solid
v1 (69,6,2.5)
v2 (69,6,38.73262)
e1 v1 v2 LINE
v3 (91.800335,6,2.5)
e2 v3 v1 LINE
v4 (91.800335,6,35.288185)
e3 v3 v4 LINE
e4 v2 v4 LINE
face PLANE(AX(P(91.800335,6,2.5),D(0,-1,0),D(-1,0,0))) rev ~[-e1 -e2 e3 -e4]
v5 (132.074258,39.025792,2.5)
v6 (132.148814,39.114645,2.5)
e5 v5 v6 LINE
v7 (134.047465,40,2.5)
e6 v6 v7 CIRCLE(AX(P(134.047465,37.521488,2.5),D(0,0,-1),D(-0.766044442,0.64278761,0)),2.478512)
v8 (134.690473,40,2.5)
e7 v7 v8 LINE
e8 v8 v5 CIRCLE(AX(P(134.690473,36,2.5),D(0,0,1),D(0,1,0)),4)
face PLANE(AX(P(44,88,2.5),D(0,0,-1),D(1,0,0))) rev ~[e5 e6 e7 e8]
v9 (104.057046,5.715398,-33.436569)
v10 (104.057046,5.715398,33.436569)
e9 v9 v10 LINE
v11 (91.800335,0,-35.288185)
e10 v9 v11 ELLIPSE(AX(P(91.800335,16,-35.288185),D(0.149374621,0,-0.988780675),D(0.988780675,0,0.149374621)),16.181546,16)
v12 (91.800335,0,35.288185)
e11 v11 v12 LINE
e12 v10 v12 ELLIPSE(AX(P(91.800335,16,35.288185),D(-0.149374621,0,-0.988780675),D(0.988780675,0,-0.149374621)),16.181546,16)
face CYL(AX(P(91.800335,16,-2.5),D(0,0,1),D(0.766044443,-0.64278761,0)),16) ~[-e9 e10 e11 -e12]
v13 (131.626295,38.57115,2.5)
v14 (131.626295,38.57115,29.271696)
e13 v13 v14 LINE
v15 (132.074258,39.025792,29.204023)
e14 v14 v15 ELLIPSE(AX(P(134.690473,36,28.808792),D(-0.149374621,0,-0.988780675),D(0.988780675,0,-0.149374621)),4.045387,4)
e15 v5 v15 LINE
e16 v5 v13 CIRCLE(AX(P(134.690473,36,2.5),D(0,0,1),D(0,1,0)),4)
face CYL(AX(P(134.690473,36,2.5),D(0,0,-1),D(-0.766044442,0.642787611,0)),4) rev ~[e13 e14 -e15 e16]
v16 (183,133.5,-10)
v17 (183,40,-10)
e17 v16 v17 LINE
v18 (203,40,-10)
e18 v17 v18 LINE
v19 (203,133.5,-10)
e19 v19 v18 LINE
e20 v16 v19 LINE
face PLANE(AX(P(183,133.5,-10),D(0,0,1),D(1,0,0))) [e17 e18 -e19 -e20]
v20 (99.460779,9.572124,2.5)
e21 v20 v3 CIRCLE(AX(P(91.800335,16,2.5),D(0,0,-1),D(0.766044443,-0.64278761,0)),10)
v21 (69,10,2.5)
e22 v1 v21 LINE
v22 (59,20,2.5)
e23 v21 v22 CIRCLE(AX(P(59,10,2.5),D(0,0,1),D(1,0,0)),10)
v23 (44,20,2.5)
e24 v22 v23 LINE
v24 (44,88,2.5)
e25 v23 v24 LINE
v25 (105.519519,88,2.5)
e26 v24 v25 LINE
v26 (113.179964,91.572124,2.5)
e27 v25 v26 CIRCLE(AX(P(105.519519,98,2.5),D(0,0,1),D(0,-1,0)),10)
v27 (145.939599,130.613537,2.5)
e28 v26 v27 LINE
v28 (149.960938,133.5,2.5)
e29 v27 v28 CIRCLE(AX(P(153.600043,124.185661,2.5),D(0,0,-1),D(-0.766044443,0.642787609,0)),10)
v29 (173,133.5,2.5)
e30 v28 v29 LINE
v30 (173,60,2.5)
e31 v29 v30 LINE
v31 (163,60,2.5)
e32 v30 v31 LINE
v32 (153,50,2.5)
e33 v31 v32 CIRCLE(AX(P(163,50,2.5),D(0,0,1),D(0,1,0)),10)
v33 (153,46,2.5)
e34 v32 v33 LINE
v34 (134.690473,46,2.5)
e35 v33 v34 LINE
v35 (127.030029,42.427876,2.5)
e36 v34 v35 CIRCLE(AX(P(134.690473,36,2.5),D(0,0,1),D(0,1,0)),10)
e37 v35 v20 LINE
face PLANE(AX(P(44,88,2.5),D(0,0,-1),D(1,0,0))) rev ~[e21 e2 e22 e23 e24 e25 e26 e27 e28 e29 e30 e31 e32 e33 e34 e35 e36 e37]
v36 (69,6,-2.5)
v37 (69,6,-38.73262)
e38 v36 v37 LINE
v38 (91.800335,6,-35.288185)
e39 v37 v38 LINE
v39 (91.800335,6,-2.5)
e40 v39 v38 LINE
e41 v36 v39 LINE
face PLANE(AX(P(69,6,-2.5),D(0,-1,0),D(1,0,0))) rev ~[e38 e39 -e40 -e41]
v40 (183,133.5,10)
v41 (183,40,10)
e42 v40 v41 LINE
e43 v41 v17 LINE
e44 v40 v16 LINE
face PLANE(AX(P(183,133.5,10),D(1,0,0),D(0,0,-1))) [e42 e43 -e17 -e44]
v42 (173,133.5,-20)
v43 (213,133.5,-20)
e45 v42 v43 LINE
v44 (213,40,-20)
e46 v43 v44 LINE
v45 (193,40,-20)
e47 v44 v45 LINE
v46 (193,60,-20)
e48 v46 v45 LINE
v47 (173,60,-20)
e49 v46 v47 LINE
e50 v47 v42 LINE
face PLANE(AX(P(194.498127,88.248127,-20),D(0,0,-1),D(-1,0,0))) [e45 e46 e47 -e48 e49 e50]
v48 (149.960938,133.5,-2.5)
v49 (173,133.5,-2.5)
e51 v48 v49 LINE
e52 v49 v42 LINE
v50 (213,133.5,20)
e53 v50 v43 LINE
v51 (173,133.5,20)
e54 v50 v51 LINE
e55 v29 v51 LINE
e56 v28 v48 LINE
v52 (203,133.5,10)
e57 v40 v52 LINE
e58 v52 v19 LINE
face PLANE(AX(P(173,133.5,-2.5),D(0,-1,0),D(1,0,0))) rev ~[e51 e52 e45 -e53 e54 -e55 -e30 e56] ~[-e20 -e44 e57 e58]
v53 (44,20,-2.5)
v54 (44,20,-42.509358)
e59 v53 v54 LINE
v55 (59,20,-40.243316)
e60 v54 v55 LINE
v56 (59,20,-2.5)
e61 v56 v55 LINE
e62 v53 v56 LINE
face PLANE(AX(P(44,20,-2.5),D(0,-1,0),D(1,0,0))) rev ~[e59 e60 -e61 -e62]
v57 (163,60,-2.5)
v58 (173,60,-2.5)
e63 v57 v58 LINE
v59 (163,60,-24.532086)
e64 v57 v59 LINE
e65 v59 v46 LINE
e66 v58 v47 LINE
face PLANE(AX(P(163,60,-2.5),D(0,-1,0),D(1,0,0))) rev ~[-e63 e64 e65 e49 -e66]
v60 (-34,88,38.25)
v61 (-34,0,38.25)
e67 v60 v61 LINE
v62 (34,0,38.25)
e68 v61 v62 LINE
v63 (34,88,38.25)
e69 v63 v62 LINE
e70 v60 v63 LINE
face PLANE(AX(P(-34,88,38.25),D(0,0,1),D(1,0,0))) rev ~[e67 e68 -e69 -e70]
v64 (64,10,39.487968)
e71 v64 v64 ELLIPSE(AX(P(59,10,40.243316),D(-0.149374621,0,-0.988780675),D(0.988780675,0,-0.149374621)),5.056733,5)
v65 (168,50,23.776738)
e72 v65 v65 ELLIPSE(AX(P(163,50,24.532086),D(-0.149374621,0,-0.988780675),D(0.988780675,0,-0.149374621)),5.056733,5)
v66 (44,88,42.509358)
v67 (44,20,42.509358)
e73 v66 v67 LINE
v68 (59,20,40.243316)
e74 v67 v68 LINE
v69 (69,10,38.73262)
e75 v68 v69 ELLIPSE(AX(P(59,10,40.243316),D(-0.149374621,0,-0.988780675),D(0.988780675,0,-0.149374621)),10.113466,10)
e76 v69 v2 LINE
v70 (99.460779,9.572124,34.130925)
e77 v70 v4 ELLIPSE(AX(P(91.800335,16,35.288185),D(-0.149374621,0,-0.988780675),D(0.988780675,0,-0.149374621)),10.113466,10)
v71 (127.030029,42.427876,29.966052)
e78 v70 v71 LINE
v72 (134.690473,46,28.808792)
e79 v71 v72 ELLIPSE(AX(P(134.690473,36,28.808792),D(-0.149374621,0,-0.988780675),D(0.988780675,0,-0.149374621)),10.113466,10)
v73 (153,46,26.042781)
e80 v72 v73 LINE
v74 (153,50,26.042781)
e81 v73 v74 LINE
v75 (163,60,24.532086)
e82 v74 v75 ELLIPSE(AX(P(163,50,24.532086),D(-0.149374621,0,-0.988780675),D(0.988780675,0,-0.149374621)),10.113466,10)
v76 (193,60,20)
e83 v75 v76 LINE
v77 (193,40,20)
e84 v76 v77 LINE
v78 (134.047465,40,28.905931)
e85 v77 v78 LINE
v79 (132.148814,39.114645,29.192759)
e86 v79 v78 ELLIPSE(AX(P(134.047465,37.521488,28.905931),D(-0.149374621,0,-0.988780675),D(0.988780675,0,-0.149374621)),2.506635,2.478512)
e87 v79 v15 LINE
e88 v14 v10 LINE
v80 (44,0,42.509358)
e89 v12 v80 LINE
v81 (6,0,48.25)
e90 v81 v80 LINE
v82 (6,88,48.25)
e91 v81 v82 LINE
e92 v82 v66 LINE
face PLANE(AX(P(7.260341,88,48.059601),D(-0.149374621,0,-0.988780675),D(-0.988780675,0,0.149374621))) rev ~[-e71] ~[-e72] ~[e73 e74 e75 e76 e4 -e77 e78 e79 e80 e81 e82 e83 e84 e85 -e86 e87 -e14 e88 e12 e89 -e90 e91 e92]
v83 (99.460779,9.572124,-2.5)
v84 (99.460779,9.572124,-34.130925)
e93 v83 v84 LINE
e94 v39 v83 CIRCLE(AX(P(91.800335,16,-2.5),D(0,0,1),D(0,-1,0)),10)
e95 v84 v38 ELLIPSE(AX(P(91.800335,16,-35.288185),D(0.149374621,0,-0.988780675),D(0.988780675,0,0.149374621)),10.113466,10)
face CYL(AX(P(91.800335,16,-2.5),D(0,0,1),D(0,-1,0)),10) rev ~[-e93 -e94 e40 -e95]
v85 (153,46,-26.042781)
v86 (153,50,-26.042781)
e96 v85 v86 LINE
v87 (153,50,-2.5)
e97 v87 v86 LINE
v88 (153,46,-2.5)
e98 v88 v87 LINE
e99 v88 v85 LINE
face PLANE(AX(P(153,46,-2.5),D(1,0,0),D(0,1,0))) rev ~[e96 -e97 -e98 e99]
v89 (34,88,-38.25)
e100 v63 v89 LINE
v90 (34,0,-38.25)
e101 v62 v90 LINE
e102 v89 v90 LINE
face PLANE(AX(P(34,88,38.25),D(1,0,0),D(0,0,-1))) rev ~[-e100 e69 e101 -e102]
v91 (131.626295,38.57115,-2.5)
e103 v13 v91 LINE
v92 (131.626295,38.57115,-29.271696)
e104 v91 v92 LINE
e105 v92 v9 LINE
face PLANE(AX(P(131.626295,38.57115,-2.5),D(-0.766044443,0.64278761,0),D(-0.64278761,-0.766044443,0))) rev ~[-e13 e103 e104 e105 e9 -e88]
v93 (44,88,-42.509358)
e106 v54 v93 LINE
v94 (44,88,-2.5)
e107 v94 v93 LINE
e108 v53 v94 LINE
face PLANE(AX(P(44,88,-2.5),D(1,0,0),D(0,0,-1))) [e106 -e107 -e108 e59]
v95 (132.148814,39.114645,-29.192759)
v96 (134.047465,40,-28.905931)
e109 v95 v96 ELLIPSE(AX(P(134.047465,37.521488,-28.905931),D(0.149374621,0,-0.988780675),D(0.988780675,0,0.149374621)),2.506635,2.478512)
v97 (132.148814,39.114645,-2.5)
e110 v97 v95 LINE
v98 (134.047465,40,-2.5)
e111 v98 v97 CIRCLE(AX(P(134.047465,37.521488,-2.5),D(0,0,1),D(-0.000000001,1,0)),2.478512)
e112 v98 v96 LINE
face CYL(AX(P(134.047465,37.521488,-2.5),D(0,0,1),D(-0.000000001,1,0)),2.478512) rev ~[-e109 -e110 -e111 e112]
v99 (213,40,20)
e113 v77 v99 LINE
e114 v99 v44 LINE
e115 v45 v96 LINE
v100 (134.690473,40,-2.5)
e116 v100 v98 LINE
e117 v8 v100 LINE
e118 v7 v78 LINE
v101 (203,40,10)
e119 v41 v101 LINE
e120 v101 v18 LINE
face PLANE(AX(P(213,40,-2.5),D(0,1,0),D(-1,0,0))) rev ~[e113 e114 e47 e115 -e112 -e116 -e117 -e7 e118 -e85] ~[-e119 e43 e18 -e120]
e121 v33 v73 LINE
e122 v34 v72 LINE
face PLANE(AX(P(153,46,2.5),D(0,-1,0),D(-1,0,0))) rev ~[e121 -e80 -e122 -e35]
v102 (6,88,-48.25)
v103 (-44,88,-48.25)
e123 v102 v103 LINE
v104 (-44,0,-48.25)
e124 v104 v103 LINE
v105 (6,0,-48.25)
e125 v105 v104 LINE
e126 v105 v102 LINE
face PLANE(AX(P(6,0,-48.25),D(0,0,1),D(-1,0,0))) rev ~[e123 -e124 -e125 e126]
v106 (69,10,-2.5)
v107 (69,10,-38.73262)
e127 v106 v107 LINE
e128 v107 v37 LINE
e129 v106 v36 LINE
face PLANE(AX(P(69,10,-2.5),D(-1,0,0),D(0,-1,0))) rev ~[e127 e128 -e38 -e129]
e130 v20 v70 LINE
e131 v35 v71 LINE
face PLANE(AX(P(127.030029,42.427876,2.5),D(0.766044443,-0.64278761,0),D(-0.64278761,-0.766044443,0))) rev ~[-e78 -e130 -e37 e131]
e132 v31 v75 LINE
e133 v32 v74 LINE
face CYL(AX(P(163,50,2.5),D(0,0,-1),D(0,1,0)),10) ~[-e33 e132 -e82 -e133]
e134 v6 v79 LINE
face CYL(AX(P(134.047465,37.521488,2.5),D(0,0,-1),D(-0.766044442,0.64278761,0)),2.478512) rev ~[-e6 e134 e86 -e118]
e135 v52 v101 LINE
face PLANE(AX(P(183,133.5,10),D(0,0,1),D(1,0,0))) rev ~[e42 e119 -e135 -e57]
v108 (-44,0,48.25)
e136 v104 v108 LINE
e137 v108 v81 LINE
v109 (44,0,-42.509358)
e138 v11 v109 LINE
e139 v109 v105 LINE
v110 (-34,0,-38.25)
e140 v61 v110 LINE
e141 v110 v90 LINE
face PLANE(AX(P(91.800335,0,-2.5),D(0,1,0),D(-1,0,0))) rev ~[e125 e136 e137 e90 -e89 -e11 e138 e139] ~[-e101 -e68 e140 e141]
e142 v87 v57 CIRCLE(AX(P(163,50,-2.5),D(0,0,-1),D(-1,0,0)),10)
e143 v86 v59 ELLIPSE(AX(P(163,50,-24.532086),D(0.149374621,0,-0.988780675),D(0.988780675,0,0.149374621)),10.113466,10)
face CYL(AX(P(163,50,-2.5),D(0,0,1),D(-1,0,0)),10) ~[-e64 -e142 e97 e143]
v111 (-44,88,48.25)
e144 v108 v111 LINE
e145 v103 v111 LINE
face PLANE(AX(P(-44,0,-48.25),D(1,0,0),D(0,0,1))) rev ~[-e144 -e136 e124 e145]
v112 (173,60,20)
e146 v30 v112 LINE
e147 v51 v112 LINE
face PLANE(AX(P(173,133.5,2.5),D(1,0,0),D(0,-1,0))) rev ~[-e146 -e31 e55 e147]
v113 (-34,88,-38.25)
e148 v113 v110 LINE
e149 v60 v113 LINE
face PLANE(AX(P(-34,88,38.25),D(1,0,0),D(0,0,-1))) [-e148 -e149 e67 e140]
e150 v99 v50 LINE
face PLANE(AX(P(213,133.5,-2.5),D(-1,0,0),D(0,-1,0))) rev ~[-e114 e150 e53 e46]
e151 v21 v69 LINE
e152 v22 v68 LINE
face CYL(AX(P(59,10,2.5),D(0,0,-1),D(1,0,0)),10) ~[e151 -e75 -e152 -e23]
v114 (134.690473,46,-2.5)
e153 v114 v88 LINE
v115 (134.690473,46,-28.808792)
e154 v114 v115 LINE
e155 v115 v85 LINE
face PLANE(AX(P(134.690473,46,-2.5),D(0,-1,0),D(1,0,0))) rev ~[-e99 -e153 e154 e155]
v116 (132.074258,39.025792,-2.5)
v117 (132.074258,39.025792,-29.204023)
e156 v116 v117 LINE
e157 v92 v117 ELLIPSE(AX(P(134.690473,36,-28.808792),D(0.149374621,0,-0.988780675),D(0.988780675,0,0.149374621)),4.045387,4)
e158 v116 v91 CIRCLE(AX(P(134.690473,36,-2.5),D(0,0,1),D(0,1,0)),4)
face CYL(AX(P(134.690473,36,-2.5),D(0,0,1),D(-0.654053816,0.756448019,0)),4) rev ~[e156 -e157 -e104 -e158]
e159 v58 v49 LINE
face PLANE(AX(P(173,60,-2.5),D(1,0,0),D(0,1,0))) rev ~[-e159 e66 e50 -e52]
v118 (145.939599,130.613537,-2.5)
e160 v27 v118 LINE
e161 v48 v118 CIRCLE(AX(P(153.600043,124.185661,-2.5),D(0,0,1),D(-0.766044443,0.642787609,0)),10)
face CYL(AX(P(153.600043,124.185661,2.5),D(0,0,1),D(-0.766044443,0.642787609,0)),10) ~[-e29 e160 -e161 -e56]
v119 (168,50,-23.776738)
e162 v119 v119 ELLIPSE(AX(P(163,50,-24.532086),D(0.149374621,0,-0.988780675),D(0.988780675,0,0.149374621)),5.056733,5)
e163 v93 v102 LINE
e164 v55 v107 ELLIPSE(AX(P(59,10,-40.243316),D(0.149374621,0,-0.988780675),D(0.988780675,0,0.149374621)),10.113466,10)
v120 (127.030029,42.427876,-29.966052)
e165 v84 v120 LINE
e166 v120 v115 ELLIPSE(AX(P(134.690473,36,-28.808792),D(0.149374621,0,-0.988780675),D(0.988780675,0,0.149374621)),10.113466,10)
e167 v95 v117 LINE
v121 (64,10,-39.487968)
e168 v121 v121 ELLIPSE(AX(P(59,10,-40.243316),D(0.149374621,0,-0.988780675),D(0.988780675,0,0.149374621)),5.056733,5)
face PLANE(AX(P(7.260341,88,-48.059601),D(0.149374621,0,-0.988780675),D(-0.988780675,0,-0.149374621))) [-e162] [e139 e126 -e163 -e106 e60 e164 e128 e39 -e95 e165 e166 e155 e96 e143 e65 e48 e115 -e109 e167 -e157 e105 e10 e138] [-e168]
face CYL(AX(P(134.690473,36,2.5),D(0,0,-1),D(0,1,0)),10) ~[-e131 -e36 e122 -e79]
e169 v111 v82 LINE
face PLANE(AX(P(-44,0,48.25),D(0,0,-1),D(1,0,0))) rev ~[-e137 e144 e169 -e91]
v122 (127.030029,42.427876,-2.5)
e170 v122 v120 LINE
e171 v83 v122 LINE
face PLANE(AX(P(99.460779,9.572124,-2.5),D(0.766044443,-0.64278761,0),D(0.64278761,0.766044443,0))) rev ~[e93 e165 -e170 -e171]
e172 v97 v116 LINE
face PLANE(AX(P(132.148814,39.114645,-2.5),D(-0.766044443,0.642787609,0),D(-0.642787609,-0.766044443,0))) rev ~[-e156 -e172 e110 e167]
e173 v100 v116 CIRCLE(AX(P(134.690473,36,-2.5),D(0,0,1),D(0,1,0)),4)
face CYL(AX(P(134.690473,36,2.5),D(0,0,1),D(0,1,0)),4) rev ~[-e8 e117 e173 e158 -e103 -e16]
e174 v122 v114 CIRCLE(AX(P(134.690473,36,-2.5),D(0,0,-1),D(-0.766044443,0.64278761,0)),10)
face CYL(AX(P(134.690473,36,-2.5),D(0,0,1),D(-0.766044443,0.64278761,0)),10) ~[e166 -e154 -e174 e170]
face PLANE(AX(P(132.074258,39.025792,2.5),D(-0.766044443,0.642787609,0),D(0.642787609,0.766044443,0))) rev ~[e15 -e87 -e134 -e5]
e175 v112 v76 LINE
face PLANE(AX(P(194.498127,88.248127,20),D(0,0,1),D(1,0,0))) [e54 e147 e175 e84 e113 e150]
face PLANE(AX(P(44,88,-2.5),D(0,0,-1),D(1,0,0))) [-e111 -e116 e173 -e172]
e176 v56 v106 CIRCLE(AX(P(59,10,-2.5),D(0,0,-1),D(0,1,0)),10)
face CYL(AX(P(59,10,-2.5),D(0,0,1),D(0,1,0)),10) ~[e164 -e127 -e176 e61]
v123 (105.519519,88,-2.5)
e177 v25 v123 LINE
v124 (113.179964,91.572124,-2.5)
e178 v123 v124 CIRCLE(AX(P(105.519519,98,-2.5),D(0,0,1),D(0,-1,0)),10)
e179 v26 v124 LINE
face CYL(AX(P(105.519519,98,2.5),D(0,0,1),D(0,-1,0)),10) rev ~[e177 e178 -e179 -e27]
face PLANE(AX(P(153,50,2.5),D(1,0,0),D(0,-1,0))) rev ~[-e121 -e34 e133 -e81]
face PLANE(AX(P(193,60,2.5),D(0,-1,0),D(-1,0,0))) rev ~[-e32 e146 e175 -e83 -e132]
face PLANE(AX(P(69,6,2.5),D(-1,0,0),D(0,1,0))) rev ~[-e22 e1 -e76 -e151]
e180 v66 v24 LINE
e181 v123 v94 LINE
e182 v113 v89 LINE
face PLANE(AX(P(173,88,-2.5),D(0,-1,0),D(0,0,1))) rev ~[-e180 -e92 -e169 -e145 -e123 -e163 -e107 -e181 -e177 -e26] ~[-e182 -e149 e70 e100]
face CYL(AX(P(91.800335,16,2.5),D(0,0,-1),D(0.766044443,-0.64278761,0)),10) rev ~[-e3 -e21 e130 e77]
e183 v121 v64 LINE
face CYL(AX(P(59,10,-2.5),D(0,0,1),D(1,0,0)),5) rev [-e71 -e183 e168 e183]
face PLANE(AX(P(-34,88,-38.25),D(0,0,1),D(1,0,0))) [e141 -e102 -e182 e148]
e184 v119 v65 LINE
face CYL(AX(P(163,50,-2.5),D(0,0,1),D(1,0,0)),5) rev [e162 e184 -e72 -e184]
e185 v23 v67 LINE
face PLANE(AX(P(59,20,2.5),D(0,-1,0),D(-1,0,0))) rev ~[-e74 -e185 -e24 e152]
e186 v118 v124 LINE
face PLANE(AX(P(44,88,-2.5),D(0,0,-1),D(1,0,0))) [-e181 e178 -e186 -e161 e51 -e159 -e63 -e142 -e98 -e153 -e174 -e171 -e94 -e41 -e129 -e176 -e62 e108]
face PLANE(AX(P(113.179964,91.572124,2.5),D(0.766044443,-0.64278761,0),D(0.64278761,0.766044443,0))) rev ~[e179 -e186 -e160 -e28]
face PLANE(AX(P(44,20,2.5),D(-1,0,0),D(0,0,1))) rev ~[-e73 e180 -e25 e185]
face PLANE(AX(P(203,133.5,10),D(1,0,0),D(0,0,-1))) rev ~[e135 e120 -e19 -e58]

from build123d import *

# Parameters (mm, degrees)
BOSS_EXTRU_3_DEPTH       = 88
ESQUISSE4_W              = 68
ESQUISSE4_H              = 76.5
ENL_V_MAT_EXTRU_1_DEPTH  = 236.459258684
ENL_V_MAT_EXTRU_2_DEPTH  = 68
ENL_V_MAT_EXTRU_5_REACH  = 245.615
ESQUISSE6_W              = 150.690647389
ESQUISSE6_H              = 20
BOSS_EXTRU_5_DEPTH       = 20
ESQUISSE14_W             = 40
ESQUISSE14_H             = 40
ENL_V_MAT_EXTRU_6_DEPTH  = 236.459258684
BOSS_EXTRU_8_DEPTH       = 40
ENL_V_MAT_EXTRU_7_DEPTH  = 236.984242059
ESQUISSE27_W             = 169
ESQUISSE27_H             = 5
BOSS_EXTRU_9_DEPTH       = 45.5
BOSS_EXTRU_10_REACH      = 258.45
ESQUISSE28_R             = 5
ENL_V_MAT_EXTRU_9_DEPTH  = 45.5
BOSS_EXTRU_12_DEPTH      = 17.5
ENL_V_MAT_EXTRU_10_REACH = 248.129
BOSS_EXTRU_13_REACH      = 258.45
ESQUISSE34_R             = 5
BOSS_EXTRU_14_DEPTH      = 17.5
ESQUISSE36_W             = 20
ESQUISSE36_H             = 20
ENL_V_MAT_EXTRU_11_DEPTH = 256.967405152
ESQUISSE37_R             = 5
ENL_V_MAT_EXTRU_12_DEPTH = 10
ESQUISSE38_R             = 5
ENL_V_MAT_EXTRU_13_DEPTH = 10


with BuildPart() as part:
    # Esquisse1 → Boss.-Extru.3 (new body)
    with BuildSketch(Plane(origin=(0, 0, 0), x_dir=(1, 0, 0), z_dir=(0, 1, 0))):
        Polygon((193, 20), (6, 48.25), (-44, 48.25), (-44, -48.25), (6, -48.25), (193, -20), (213, -20), (213, 20), align=None)
    extrude(amount=BOSS_EXTRU_3_DEPTH)

    # Esquisse4 → Enlèv. mat.-Extru.1 (cut, through all)
    with BuildSketch(Plane(origin=(0, 88, 0), x_dir=(1, 0, 0), z_dir=(0, 1, 0))):
        Rectangle(ESQUISSE4_W, ESQUISSE4_H)
    extrude(amount=-ENL_V_MAT_EXTRU_1_DEPTH, mode=Mode.SUBTRACT)

    # Esquisse5 → Enlèv. mat.-Extru.2 (cut)
    with BuildSketch(Plane(origin=(0, 88, 0), x_dir=(1, 0, 0), z_dir=(0, 1, 0))):
        Polygon((193, 20), (173, 20), (173, 2.5), (44, 2.5), (44, 42.509358289), align=None)
        Polygon((173, -20), (193, -20), (44, -42.509358289), (44, -2.5), (173, -2.5), align=None)
    extrude(amount=-ENL_V_MAT_EXTRU_2_DEPTH, mode=Mode.SUBTRACT)

    # Enlèv. mat.-Extru.5: up to this plane
    enl_v_mat_extru_5_end = Plane(origin=(173, 20, 2.5), z_dir=(0, 0, -1))
    # Esquisse6 → Enlèv. mat.-Extru.5 (cut, up to the surface)
    with BuildSketch(Plane(origin=(7.260340781, 0, 48.059600925), x_dir=(0.9887806747234926, 0, -0.14937462064673088), z_dir=(0.14937462064673088, 0, 0.9887806747234927)), mode=Mode.PRIVATE) as enl_v_mat_extru_5_sk1:
        with Locations((112.501854115, 10)):
            Rectangle(ESQUISSE6_W, ESQUISSE6_H)
    enl_v_mat_extru_5_tool1 = split(extrude(enl_v_mat_extru_5_sk1.sketch, amount=-ENL_V_MAT_EXTRU_5_REACH, mode=Mode.PRIVATE), bisect_by=enl_v_mat_extru_5_end, keep=Keep.BOTH, mode=Mode.PRIVATE)
    add(enl_v_mat_extru_5_tool1.solids().sort_by_distance((118.5, 10, 31.254679))[0], mode=Mode.SUBTRACT)

    # Esquisse11 → Boss.-Extru.5 (add)
    with BuildSketch(Plane.XZ.offset(-20)):
        Polygon((37.955805499, 2.5), (44, 2.5), (44, 42.509358289), align=None)
    extrude(amount=BOSS_EXTRU_5_DEPTH)

    # Esquisse14 → Enlèv. mat.-Extru.6 (cut, through all)
    with BuildSketch(Plane(origin=(0, 88, 0), x_dir=(1, 0, 0), z_dir=(0, 1, 0))):
        with Locations((193, 0)):
            Rectangle(ESQUISSE14_W, ESQUISSE14_H)
    extrude(amount=-ENL_V_MAT_EXTRU_6_DEPTH, mode=Mode.SUBTRACT)

    # Esquisse22 → Boss.-Extru.8 (add)
    with BuildSketch(Plane(origin=(173, 0, 0), x_dir=(0, 0, -1), z_dir=(1, 0, 0))):
        Polygon((-2.5, 0), (20, 0), (20, 20), (2.5, 20), (2.5, 88), (-2.5, 88), align=None)
    extrude(amount=BOSS_EXTRU_8_DEPTH)

    # Esquisse23 → Enlèv. mat.-Extru.7 (cut, through all)
    with BuildSketch(Plane.XY.offset(2.5)):
        with BuildLine():
            Line((213, 0), (213, 40))
            Line((213, 40), (193, 40))
            Line((193, 40), (159, 40))
            Line((159, 40), (134.690473047, 40))
            ThreePointArc((134.690473047, 40), (133, 39.625231148), (131.626295274, 38.571150439))
            Line((131.626295274, 38.571150439), (104.057045727, 5.715398245))
            ThreePointArc((104.057045727, 5.715398245), (98.562226825, 1.499075407), (91.800334637, 0))
            Line((91.800334637, 0), (213, 0))
        make_face()
    extrude(amount=-ENL_V_MAT_EXTRU_7_DEPTH, mode=Mode.SUBTRACT)

    # Esquisse27 → Boss.-Extru.9 (add)
    with BuildSketch(Plane(origin=(0, 88, 0), x_dir=(1, 0, 0), z_dir=(0, 1, 0))):
        with Locations((128.5, 0)):
            Rectangle(ESQUISSE27_W, ESQUISSE27_H)
    extrude(amount=BOSS_EXTRU_9_DEPTH)

    # Boss.-Extru.10: up to this plane
    boss_extru_10_end = Plane(origin=(7.260340781, 88, 48.059600925), z_dir=(-0.14937462064673085, 0, -0.9887806747234926))
    # Esquisse28 → Boss.-Extru.10 (add, up to the surface)
    with BuildSketch(Plane.XY.offset(2.5), mode=Mode.PRIVATE) as boss_extru_10_sk1:
        with BuildLine():
            Line((132.074257782, 39.025792076), (132.14881397, 39.114644681))
            ThreePointArc((132.14881397, 39.114644681), (133, 39.767782693), (134.047464579, 40))
            Line((134.047464579, 40), (134.690473047, 40))
            Line((134.690473047, 40), (159, 40))
            Line((159, 40), (193, 40))
            Line((193, 40), (193, 60))
            Line((193, 60), (173, 60))
            Line((173, 60), (163, 60))
            ThreePointArc((163, 60), (155.928932188, 57.071067812), (153, 50))
            Line((153, 50), (153, 46))
            Line((153, 46), (134.690473047, 46))
            ThreePointArc((134.690473047, 46), (130.46429043, 45.06307787), (127.030028616, 42.427876097))
            Line((127.030028616, 42.427876097), (99.460779068, 9.572123903))
            ThreePointArc((99.460779068, 9.572123903), (96.026517254, 6.93692213), (91.800334637, 6))
            Line((91.800334637, 6), (69, 6))
            Line((69, 6), (69, 10))
            ThreePointArc((69, 10), (66.071067812, 17.071067812), (59, 20))
            Line((59, 20), (44, 20))
            Line((44, 20), (44, 0))
            Line((44, 0), (63, 0))
            Line((63, 0), (91.800334637, 0))
            ThreePointArc((91.800334637, 0), (98.562226825, 1.499075407), (104.057045727, 5.715398245))
            Line((104.057045727, 5.715398245), (131.626295274, 38.571150439))
            ThreePointArc((131.626295274, 38.571150439), (131.841194012, 38.807420343), (132.074257782, 39.025792076))
        make_face()
        with Locations((59, 10)):
            Circle(ESQUISSE28_R, mode=Mode.SUBTRACT)
        with Locations((163, 50)):
            Circle(ESQUISSE28_R, mode=Mode.SUBTRACT)
    boss_extru_10_tool1 = split(extrude(boss_extru_10_sk1.sketch, amount=BOSS_EXTRU_10_REACH, mode=Mode.PRIVATE), bisect_by=boss_extru_10_end, keep=Keep.BOTH, mode=Mode.PRIVATE)
    add(boss_extru_10_tool1.solids().sort_by_distance((124.318782, 30.344637, 2.5))[0])

    # Esquisse29 → Enlèv. mat.-Extru.9 (cut)
    with BuildSketch(Plane.XY.offset(2.5)):
        with BuildLine():
            ThreePointArc((145.939599002, 130.613536933), (147.768845256, 132.309522469), (149.96093833, 133.5))
            Line((149.96093833, 133.5), (44, 133.5))
            Line((44, 133.5), (44, 88))
            Line((44, 88), (105.519519296, 88))
            ThreePointArc((105.519519296, 88), (109.745701914, 88.93692213), (113.179963727, 91.572123903))
            Line((113.179963727, 91.572123903), (145.939599002, 130.613536933))
        make_face()
    extrude(amount=-ENL_V_MAT_EXTRU_9_DEPTH, mode=Mode.SUBTRACT)

    # Esquisse31 → Boss.-Extru.12 (add)
    with BuildSketch(Plane.XY.offset(2.5)):
        Polygon((213, 133.5), (173, 133.5), (173, 60), (193, 60), (193, 40), (213, 40), align=None)
    extrude(amount=BOSS_EXTRU_12_DEPTH)

    # Esquisse33 → Enlèv. mat.-Extru.10 (cut, up to next)
    with BuildSketch(Plane(origin=(0, 20, 0), x_dir=(1, 0, 0), z_dir=(0, 1, 0)), mode=Mode.PRIVATE) as enl_v_mat_extru_10_sk1:
        Polygon((44, 42.509358289), (44, 2.5), (116.043249791, 2.5), (116.043249791, 31.625819216), align=None)
    enl_v_mat_extru_10_tool1 = extrude(enl_v_mat_extru_10_sk1.sketch, amount=-ENL_V_MAT_EXTRU_10_REACH, mode=Mode.PRIVATE) & part.part
    add(enl_v_mat_extru_10_tool1.solids().sort_by_distance((78.131402, 20, -19.926572))[0], mode=Mode.SUBTRACT)

    # Boss.-Extru.13: up to this plane
    boss_extru_13_end = Plane(origin=(7.260340781, 88, -48.059600925), z_dir=(0.14937462064673085, 0, -0.9887806747234926))
    # Esquisse34 → Boss.-Extru.13 (add, up to the surface)
    with BuildSketch(Plane(origin=(0, 0, -2.5), x_dir=(-1, 0, 0), z_dir=(0, 0, -1)), mode=Mode.PRIVATE) as boss_extru_13_sk1:
        with BuildLine():
            Line((-44, 0), (-44, 20))
            Line((-44, 20), (-59, 20))
            ThreePointArc((-59, 20), (-66.071067812, 17.071067812), (-69, 10))
            Line((-69, 10), (-69, 6))
            Line((-69, 6), (-91.800334637, 6))
            ThreePointArc((-91.800334637, 6), (-96.026517254, 6.93692213), (-99.460779068, 9.572123903))
            Line((-99.460779068, 9.572123903), (-127.030028616, 42.427876097))
            ThreePointArc((-127.030028616, 42.427876097), (-130.46429043, 45.06307787), (-134.690473047, 46))
            Line((-134.690473047, 46), (-153, 46))
            Line((-153, 46), (-153, 50))
            ThreePointArc((-153, 50), (-155.928932188, 57.071067812), (-163, 60))
            Line((-163, 60), (-173, 60))
            Line((-173, 60), (-193, 60))
            Line((-193, 60), (-193, 40))
            Line((-193, 40), (-159, 40))
            Line((-159, 40), (-134.690473047, 40))
            Line((-134.690473047, 40), (-134.047464579, 40))
            ThreePointArc((-134.047464579, 40), (-133, 39.767782693), (-132.14881397, 39.114644681))
            Line((-132.14881397, 39.114644681), (-132.074257782, 39.025792076))
            ThreePointArc((-132.074257782, 39.025792076), (-131.841194012, 38.807420343), (-131.626295274, 38.571150439))
            Line((-131.626295274, 38.571150439), (-104.057045727, 5.715398245))
            ThreePointArc((-104.057045727, 5.715398245), (-98.562226825, 1.499075407), (-91.800334637, 0))
            Line((-91.800334637, 0), (-63, 0))
            Line((-63, 0), (-44, 0))
        make_face()
        with Locations(Location((-163, 50, 0), (0, 0, 180))):
            Circle(ESQUISSE34_R, mode=Mode.SUBTRACT)
        with Locations(Location((-59, 10, 0), (0, 0, 180))):
            Circle(ESQUISSE34_R, mode=Mode.SUBTRACT)
    boss_extru_13_tool1 = split(extrude(boss_extru_13_sk1.sketch, amount=BOSS_EXTRU_13_REACH, mode=Mode.PRIVATE), bisect_by=boss_extru_13_end, keep=Keep.BOTH, mode=Mode.PRIVATE)
    add(boss_extru_13_tool1.solids().sort_by_distance((124.318782, 30.344637, -2.5))[0])

    # Esquisse35 → Boss.-Extru.14 (add)
    with BuildSketch(Plane(origin=(0, 0, -2.5), x_dir=(-1, 0, 0), z_dir=(0, 0, -1))):
        Polygon((-173, 60), (-173, 133.5), (-213, 133.5), (-213, 40), (-193, 40), (-193, 60), align=None)
    extrude(amount=BOSS_EXTRU_14_DEPTH)

    # Esquisse36 → Enlèv. mat.-Extru.11 (cut, through all)
    with BuildSketch(Plane(origin=(0, 133.5, 0), x_dir=(1, 0, 0), z_dir=(0, 1, 0))):
        with Locations((193, 0)):
            Rectangle(ESQUISSE36_W, ESQUISSE36_H)
    extrude(amount=-ENL_V_MAT_EXTRU_11_DEPTH, mode=Mode.SUBTRACT)

    # Esquisse37 → Enlèv. mat.-Extru.12 (cut)
    with BuildSketch(Plane.XY.offset(2.5)):
        with Locations((59, 10)):
            Circle(ESQUISSE37_R)
    extrude(amount=-ENL_V_MAT_EXTRU_12_DEPTH, mode=Mode.SUBTRACT)

    # Esquisse38 → Enlèv. mat.-Extru.13 (cut)
    with BuildSketch(Plane.XY.offset(2.5)):
        with Locations((163, 50)):
            Circle(ESQUISSE38_R)
    extrude(amount=-ENL_V_MAT_EXTRU_13_DEPTH, mode=Mode.SUBTRACT)


solid = part.part
